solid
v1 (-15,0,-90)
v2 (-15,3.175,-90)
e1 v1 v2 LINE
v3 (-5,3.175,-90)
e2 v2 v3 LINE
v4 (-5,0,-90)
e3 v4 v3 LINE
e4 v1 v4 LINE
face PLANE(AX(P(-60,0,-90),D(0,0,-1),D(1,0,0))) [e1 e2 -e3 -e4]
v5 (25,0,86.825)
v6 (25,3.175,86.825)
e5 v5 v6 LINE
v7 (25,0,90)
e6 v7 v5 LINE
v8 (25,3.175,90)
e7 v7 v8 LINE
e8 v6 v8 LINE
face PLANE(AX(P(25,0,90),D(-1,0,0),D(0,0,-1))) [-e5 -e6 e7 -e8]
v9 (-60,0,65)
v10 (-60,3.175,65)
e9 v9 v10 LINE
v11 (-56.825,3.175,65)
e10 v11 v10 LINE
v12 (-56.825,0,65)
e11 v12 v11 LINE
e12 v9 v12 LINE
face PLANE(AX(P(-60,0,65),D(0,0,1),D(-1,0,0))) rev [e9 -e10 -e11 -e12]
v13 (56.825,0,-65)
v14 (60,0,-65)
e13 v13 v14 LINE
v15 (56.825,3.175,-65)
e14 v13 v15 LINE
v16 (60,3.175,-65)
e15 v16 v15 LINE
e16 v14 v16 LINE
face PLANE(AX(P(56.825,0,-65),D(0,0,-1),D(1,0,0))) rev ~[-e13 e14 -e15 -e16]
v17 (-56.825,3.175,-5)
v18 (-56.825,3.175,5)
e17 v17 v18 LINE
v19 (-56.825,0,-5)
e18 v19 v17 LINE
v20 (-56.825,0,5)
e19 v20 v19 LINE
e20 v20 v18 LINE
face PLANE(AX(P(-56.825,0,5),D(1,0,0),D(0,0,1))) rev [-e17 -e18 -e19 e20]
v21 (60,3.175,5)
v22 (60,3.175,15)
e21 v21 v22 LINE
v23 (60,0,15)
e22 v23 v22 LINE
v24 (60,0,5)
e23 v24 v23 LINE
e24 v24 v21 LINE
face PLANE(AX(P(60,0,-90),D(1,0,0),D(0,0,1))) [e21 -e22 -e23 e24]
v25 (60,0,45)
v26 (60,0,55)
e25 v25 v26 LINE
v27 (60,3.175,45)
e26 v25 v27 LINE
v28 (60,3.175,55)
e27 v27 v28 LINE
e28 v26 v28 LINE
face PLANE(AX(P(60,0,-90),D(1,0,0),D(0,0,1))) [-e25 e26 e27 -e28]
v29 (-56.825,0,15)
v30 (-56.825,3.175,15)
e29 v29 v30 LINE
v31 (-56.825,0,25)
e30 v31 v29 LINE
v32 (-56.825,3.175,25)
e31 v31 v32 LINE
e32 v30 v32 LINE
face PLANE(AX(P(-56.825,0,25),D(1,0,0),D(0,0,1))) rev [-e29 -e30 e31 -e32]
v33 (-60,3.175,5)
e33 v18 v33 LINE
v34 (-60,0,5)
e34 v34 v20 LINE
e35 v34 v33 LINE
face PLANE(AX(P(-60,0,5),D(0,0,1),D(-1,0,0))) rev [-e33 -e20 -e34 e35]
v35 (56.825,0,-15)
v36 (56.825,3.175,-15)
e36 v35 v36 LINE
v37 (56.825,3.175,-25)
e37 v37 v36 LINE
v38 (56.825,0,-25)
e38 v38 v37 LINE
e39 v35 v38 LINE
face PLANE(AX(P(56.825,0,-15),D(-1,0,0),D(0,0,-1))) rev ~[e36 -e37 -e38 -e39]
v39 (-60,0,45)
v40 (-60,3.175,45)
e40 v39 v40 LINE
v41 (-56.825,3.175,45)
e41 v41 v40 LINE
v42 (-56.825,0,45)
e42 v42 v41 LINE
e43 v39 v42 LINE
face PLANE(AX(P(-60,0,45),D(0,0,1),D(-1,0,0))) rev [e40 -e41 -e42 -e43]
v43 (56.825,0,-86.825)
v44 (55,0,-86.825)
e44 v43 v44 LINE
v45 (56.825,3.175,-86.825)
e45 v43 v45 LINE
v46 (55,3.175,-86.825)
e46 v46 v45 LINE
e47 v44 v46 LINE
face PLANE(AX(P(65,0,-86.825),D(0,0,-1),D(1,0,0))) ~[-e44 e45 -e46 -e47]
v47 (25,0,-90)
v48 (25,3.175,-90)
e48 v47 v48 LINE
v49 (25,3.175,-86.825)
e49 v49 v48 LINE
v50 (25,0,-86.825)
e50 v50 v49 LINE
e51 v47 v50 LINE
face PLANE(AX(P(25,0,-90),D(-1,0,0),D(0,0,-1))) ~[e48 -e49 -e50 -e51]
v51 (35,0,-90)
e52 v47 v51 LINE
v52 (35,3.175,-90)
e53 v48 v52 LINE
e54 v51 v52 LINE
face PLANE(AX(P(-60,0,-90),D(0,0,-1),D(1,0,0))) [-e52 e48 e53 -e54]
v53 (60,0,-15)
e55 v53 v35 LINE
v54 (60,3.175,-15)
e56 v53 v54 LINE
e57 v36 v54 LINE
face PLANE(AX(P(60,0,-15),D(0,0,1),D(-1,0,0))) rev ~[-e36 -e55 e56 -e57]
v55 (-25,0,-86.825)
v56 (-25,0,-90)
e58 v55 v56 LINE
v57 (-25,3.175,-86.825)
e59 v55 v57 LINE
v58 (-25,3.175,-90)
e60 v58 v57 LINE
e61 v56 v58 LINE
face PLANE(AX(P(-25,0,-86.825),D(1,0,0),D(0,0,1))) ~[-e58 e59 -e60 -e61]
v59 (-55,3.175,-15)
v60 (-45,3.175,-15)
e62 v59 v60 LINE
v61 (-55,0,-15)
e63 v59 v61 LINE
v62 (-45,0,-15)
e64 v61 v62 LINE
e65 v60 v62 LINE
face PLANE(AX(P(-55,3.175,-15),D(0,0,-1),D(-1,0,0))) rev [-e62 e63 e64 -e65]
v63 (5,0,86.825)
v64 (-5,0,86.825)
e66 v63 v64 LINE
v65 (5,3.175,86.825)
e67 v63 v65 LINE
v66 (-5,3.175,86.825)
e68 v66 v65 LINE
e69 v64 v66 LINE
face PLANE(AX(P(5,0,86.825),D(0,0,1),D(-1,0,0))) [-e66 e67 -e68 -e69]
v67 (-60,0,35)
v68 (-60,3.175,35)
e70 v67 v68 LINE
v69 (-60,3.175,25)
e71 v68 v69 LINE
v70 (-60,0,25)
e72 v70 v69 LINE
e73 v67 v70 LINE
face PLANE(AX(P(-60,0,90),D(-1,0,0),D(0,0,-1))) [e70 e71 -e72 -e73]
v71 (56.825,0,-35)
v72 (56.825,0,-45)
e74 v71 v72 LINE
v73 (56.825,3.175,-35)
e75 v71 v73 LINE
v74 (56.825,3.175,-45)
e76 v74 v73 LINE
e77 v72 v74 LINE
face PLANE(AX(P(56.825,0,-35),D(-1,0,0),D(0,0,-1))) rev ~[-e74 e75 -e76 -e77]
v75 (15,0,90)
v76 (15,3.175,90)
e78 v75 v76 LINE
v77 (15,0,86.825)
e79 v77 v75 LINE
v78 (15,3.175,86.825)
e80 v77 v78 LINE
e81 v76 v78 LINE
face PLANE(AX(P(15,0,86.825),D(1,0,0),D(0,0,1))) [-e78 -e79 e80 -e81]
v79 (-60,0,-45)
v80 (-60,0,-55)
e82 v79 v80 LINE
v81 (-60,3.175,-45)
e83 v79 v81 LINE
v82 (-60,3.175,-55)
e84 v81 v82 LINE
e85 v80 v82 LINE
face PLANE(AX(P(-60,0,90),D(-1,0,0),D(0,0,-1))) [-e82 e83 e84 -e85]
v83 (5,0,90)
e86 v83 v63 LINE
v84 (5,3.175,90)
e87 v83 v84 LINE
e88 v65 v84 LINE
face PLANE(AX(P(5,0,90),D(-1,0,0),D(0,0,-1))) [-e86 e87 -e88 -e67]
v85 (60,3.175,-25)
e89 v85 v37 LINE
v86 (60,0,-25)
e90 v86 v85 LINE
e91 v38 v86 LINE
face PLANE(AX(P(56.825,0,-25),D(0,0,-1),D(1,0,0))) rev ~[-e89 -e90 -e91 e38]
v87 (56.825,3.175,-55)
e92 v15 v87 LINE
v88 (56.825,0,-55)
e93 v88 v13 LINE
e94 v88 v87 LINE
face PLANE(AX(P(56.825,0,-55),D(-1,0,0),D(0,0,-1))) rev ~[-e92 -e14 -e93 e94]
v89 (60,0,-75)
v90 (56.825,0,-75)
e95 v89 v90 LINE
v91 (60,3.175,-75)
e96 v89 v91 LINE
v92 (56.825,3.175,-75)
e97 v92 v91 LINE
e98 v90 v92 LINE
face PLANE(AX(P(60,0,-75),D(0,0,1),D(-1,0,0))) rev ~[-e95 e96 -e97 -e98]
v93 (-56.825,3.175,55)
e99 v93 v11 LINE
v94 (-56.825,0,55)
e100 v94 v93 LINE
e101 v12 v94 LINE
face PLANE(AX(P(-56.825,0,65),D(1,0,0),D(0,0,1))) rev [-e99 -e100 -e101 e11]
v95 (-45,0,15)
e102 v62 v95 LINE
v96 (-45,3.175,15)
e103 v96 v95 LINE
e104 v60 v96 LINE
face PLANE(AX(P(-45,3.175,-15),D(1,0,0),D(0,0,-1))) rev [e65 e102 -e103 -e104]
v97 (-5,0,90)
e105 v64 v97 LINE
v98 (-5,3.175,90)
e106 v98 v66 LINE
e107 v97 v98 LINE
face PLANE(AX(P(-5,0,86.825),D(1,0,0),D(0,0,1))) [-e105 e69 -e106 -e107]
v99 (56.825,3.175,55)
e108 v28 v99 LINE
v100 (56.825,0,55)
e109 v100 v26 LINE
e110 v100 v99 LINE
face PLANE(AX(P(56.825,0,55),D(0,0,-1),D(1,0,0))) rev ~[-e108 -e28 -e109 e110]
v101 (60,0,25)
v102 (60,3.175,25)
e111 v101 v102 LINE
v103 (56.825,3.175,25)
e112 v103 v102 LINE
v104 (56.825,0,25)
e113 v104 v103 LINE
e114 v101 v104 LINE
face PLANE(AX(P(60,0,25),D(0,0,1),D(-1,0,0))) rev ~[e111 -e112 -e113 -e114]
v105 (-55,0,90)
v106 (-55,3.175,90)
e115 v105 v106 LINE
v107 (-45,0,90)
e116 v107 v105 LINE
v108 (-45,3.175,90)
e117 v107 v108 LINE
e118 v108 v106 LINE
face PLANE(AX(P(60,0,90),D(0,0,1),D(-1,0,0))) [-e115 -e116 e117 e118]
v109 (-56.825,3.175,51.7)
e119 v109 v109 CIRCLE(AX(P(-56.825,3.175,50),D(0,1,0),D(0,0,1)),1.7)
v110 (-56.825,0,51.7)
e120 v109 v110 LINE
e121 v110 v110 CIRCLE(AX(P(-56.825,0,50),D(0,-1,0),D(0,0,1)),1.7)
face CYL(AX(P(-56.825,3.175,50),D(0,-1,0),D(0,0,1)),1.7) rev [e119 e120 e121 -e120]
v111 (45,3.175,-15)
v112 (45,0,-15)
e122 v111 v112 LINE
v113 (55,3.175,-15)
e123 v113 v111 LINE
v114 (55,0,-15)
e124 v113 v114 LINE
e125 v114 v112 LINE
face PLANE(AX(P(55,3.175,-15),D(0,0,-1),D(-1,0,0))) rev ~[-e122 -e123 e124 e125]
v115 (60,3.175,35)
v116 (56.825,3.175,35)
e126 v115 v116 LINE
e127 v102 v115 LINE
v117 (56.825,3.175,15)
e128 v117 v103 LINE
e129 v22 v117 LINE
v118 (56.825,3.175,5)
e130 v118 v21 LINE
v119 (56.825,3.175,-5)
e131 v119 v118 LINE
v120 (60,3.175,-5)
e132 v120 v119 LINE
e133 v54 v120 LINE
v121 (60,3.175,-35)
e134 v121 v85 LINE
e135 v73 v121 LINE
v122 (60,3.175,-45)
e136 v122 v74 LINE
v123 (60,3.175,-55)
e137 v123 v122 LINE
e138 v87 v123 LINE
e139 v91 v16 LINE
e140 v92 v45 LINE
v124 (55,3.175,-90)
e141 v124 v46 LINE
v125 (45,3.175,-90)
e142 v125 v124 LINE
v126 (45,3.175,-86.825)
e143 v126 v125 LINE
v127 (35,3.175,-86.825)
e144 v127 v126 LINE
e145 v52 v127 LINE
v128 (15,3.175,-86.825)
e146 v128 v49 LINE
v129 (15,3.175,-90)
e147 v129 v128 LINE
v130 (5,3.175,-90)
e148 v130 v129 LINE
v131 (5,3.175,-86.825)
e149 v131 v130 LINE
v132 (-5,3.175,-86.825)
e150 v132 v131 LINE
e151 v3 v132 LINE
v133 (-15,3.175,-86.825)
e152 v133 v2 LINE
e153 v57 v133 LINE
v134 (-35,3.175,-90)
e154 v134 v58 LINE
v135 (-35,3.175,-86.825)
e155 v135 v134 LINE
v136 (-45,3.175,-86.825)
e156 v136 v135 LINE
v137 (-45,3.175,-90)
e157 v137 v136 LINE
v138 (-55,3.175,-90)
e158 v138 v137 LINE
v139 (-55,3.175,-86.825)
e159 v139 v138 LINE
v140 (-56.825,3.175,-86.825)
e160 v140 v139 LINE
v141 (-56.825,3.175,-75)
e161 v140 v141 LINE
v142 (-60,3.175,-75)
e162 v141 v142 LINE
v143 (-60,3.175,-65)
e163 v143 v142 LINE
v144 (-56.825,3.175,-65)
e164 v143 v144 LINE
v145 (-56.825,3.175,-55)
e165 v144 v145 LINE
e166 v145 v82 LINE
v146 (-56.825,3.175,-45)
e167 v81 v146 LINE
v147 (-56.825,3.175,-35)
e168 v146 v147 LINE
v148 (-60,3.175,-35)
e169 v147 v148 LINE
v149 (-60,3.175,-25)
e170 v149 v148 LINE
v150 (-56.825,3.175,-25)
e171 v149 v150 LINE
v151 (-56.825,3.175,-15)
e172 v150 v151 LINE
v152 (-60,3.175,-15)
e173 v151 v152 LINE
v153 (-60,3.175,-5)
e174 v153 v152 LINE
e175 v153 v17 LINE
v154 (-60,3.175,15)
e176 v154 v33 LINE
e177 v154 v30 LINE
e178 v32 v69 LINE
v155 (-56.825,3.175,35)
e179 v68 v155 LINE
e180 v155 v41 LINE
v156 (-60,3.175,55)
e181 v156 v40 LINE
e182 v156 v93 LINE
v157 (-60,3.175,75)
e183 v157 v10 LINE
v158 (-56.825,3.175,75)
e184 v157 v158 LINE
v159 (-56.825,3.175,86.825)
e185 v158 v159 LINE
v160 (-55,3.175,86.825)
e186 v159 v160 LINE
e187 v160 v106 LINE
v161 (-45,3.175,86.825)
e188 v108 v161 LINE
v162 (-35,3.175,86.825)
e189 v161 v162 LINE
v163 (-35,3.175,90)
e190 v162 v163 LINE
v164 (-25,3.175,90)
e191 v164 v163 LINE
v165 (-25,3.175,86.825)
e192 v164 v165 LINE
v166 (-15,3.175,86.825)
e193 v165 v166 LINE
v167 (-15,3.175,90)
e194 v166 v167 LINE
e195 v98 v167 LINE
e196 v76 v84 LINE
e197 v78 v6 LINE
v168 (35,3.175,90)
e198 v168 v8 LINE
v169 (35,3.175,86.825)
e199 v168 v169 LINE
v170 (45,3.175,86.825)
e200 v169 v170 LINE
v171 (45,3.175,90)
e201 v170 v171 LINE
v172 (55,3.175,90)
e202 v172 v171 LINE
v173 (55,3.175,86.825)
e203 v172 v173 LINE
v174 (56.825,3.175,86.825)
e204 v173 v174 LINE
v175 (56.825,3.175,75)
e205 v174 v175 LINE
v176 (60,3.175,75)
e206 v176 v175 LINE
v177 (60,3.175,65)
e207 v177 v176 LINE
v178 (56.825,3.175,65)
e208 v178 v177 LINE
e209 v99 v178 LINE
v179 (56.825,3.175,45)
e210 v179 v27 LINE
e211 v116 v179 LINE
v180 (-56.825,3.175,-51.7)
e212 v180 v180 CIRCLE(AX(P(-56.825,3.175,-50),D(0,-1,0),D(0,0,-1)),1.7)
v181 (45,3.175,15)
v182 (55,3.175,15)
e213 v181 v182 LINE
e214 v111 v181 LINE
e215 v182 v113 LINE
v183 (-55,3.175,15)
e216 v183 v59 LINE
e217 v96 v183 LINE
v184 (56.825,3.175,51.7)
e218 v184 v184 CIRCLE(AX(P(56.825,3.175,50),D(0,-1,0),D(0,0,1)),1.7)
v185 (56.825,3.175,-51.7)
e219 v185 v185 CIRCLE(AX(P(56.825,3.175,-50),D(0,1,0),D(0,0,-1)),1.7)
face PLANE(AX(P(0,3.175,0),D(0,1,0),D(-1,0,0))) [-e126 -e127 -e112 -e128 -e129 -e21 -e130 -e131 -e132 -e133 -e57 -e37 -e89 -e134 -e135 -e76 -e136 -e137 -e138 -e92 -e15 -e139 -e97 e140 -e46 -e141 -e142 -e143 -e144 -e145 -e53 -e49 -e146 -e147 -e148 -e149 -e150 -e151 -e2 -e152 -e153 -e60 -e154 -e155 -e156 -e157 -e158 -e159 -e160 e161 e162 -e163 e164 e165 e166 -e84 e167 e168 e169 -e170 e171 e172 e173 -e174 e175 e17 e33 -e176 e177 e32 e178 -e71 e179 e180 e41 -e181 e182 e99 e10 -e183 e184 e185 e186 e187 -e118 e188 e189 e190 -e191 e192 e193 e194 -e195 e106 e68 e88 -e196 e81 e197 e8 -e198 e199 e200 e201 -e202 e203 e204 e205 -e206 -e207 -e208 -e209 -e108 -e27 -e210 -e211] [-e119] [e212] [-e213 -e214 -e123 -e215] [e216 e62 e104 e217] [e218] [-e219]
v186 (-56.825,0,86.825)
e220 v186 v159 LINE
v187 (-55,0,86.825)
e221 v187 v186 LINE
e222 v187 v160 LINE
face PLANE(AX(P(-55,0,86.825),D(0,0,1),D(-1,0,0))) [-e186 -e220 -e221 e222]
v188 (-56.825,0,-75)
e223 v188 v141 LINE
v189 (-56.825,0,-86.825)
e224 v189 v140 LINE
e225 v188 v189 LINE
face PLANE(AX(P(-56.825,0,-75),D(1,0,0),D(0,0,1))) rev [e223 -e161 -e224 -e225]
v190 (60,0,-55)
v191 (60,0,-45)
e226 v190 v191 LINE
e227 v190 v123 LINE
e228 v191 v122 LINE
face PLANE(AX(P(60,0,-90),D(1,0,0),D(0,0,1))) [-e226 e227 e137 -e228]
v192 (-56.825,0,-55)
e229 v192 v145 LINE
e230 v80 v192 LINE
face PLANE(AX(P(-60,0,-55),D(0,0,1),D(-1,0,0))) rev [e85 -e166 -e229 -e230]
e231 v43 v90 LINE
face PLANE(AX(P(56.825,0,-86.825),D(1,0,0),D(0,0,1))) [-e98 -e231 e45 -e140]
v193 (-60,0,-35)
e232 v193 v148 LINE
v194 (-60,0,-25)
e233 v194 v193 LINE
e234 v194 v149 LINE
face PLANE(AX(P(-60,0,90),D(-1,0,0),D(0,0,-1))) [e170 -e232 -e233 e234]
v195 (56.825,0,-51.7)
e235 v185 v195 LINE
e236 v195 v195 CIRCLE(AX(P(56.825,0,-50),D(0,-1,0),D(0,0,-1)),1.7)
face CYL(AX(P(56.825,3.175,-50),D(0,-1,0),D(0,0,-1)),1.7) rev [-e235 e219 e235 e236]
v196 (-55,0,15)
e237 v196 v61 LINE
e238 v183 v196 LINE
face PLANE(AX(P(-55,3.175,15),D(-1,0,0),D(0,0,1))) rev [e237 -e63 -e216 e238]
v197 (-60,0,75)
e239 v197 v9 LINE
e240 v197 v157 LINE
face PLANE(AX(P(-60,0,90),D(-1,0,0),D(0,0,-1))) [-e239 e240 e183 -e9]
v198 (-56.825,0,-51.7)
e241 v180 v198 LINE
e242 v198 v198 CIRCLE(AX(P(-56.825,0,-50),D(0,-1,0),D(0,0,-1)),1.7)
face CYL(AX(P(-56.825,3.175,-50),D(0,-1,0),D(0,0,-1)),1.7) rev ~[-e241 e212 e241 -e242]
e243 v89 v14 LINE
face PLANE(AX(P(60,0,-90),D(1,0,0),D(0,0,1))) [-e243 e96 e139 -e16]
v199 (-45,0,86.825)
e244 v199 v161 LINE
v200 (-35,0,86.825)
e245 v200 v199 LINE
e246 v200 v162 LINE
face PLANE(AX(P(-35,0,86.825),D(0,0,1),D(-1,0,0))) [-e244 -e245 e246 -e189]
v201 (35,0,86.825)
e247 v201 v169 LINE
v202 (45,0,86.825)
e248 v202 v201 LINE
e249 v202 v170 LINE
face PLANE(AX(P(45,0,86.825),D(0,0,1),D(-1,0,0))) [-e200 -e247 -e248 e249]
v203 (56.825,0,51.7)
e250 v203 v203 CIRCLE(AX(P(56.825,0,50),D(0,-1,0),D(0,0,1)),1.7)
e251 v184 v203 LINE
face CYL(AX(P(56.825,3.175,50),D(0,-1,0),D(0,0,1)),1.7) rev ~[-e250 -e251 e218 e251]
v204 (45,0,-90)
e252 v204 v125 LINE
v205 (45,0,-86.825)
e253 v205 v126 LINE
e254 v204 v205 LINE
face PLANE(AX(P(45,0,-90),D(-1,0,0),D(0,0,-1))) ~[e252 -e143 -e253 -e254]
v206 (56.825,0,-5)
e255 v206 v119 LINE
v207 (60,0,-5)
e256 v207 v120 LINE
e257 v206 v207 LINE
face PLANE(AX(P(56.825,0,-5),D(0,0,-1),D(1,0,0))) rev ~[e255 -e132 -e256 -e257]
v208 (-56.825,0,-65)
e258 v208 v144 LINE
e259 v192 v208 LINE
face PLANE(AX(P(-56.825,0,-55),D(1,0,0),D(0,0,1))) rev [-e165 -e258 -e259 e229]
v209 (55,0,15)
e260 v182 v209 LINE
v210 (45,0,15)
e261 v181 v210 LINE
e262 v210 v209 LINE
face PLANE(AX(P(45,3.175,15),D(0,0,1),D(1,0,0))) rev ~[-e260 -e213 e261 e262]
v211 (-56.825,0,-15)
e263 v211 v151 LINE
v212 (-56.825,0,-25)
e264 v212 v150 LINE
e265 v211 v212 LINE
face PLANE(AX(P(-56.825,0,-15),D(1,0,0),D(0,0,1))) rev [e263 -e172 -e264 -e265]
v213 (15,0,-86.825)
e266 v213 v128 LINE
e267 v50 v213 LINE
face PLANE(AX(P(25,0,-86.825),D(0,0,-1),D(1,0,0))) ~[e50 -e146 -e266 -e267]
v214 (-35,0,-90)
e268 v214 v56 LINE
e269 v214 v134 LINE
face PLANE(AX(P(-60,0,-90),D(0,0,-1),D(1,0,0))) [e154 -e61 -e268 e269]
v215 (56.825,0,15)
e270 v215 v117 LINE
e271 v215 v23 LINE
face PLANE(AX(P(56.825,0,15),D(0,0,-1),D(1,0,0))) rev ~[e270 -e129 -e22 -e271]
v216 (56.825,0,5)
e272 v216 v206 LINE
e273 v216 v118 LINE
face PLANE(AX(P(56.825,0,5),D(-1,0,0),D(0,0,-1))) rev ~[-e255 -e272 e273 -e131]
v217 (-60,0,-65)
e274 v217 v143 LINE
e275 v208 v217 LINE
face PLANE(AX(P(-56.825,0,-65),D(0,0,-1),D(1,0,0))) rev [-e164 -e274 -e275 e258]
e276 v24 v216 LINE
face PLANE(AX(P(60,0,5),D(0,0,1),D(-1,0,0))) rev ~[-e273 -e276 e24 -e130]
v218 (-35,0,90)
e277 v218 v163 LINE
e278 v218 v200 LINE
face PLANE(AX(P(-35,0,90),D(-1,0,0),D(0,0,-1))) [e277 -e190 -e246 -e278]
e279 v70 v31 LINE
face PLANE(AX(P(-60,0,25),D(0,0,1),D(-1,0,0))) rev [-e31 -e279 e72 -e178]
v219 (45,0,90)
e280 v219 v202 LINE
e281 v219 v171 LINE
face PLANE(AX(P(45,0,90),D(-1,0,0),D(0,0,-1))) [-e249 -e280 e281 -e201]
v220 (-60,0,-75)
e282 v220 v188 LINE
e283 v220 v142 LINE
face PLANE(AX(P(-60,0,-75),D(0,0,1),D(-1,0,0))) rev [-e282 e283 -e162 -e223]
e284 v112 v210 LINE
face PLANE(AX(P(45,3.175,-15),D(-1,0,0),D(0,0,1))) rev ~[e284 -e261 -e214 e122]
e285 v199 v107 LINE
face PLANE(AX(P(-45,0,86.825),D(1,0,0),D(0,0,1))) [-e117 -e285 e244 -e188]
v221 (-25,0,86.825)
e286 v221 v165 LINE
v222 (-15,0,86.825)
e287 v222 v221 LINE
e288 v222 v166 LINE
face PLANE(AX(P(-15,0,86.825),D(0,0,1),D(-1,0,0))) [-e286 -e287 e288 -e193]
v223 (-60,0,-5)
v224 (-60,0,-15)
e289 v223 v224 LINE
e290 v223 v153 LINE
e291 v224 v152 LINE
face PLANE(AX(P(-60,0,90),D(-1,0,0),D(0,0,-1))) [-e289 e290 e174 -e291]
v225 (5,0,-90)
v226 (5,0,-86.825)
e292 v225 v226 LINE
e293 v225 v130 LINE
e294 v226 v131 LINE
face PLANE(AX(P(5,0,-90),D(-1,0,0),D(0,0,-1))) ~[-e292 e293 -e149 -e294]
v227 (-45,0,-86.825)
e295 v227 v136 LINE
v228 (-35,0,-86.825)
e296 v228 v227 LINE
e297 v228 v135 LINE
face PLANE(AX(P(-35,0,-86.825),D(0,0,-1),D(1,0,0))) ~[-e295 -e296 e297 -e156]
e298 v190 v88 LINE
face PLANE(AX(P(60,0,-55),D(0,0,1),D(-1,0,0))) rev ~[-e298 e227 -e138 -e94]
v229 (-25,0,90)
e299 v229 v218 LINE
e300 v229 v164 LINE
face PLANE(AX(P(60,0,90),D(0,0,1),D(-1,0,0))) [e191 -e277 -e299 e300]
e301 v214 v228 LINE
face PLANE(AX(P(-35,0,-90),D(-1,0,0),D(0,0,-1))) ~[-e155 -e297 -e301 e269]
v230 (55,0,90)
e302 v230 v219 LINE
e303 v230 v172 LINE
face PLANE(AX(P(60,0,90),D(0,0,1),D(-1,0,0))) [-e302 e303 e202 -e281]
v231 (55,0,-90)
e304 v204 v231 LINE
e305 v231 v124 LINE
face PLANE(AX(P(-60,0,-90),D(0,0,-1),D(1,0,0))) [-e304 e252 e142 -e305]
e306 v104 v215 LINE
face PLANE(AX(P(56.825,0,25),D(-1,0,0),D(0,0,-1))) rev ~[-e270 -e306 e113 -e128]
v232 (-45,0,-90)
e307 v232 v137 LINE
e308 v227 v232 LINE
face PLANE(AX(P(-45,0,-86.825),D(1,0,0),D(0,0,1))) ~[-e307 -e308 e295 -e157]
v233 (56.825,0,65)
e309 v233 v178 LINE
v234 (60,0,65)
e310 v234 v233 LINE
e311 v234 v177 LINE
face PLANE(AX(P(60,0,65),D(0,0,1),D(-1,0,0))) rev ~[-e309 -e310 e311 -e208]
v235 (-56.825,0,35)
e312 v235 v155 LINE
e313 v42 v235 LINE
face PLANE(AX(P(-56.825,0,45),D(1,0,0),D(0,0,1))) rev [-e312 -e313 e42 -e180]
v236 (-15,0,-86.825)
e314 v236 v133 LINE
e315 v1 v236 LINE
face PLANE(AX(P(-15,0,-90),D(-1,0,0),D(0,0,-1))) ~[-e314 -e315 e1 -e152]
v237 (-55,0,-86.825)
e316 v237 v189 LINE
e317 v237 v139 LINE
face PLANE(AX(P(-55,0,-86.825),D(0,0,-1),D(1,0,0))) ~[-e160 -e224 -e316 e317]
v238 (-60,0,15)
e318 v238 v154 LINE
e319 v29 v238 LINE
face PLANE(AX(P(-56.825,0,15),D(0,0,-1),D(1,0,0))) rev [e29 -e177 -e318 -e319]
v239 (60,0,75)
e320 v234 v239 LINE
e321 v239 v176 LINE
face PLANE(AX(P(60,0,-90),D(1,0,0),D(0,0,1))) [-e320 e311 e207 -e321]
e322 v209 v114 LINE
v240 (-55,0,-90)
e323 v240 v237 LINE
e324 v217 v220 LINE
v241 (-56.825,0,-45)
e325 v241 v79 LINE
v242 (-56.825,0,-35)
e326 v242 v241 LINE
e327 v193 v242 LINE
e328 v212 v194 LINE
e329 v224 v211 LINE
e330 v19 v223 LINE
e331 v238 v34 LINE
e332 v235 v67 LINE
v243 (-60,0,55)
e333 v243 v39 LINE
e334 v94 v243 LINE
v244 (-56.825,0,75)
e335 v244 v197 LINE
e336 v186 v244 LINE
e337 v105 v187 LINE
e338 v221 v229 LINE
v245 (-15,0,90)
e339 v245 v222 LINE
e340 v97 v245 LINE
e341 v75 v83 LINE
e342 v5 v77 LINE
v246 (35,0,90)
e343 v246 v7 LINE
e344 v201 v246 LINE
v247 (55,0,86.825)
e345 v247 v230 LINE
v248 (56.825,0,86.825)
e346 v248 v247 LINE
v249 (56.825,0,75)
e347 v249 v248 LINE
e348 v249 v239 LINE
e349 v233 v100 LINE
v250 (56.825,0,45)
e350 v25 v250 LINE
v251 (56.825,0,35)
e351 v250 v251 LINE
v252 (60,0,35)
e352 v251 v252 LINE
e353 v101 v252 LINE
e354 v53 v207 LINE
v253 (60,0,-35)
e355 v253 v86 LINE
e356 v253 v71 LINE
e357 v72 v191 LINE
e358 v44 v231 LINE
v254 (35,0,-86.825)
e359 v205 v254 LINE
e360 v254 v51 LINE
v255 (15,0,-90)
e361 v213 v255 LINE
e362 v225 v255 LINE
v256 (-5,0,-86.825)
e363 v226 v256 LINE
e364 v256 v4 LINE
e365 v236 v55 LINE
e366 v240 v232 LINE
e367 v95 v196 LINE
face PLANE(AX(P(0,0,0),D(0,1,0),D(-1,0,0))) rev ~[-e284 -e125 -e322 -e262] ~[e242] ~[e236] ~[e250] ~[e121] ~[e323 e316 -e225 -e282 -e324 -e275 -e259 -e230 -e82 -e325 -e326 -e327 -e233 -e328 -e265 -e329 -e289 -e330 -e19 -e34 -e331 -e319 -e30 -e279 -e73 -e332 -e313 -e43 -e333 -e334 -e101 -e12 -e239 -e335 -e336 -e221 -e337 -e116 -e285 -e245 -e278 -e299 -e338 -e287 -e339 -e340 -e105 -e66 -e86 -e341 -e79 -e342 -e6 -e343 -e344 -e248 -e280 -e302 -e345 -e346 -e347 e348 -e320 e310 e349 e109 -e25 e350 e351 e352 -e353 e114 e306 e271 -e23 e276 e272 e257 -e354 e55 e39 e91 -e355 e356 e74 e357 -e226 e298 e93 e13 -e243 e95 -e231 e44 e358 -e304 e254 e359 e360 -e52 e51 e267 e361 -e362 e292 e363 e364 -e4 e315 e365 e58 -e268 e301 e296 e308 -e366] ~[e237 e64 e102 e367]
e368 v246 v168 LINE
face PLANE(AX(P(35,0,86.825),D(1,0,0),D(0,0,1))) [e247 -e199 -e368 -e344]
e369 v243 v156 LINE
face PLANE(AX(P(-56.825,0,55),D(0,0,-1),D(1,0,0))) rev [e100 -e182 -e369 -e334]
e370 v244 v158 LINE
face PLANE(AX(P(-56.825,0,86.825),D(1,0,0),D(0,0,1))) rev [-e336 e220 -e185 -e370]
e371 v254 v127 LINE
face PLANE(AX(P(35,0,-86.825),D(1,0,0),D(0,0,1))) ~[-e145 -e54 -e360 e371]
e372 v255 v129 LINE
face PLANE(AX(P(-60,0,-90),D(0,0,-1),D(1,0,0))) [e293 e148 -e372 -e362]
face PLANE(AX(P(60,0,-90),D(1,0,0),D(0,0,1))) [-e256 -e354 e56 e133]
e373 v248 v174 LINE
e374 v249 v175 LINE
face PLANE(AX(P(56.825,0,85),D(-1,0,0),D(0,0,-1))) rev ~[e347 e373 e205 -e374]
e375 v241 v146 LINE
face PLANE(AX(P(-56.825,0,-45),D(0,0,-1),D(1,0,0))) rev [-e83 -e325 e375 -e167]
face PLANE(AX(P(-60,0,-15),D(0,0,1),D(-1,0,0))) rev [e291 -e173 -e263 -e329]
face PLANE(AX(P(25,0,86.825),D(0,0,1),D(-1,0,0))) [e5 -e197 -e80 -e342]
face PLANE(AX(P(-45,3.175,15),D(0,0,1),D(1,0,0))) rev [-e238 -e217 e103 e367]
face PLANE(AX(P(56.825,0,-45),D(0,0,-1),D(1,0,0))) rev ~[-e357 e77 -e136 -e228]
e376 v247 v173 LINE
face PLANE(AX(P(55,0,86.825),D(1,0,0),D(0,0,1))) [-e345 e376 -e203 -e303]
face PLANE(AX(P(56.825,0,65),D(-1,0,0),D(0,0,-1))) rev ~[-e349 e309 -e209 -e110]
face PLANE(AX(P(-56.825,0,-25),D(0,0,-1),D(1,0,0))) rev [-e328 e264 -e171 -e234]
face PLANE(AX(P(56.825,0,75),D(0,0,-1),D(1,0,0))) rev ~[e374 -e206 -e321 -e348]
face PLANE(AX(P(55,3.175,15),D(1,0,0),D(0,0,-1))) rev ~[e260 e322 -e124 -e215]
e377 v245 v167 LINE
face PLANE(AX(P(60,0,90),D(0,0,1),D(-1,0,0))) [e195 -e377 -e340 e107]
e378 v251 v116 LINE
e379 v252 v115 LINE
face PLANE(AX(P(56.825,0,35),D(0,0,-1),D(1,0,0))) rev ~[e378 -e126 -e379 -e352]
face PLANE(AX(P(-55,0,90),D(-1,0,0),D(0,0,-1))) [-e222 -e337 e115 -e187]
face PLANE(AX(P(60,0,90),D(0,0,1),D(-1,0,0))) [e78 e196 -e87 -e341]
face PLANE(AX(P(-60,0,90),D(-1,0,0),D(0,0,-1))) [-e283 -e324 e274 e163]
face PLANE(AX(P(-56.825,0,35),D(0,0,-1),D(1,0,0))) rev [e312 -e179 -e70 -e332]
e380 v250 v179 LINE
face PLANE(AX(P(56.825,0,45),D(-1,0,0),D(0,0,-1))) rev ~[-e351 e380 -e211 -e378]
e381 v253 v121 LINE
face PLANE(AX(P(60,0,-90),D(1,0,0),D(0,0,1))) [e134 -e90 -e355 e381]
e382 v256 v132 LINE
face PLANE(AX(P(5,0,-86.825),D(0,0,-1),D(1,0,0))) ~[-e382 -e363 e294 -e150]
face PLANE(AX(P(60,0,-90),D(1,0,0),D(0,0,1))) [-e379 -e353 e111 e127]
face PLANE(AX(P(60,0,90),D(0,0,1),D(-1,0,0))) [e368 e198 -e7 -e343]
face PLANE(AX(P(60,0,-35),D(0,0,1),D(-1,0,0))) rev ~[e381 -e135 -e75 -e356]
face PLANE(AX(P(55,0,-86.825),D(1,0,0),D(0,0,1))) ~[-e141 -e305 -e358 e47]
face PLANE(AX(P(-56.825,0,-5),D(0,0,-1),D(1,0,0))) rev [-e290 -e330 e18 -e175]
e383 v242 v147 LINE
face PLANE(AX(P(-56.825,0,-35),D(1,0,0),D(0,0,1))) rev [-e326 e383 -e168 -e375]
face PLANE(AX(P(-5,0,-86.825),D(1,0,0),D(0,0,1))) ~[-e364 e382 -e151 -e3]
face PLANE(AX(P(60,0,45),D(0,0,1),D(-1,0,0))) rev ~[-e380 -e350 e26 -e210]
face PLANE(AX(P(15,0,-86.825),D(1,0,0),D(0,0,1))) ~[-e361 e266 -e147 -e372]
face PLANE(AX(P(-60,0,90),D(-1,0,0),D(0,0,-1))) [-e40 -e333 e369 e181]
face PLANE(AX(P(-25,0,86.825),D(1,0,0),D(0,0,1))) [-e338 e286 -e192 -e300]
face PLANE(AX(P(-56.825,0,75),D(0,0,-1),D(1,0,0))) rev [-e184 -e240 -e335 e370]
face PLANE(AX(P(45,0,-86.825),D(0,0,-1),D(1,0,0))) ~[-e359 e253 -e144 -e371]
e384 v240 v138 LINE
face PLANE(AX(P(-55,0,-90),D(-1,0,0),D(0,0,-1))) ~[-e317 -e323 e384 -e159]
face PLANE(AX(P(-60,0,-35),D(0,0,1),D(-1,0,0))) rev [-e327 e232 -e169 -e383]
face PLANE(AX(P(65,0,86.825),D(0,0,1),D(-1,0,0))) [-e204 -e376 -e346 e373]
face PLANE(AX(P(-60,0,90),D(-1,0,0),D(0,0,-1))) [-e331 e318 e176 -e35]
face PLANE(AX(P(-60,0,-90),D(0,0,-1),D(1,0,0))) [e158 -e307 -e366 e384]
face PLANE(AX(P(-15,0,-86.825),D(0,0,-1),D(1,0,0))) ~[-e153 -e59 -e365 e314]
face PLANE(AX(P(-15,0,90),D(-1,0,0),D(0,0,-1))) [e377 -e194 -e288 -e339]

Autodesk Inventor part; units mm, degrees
ref_plane "YZ Plane" through (0, 0, 0) normal (1, 0, 0) x (0, 1, 0)
ref_plane "XZ Plane" through (0, 0, 0) normal (0, 1, 0) x (-1, 0, 0)
ref_plane "XY Plane" through (0, 0, 0) normal (0, 0, 1) x (1, 0, 0)
sketch "Sketch1" plane through (0, 0, 0) normal (0, 1, 0) x (-1, 0, 0)
  line L0 (60, -90) -> (-60, -90)
  line L1 (-60, -90) -> (-60, 90)
  line L2 (-60, 90) -> (60, 90)
  line L3 (60, 90) -> (60, -90)
  line L4 (60, -90) -> (-60, 90) construction
  line L5 (-60, -90) -> (60, 90) construction
  point P0 (0, 0)
  dimension "d0" = 120
  dimension "d1" = 180
extrude "Extrusion1" add sketch "Sketch1" along normal blind 3.175
sketch "Sketch4" plane through (0, 0, 0) normal (0, -1, 0) x (1, 0, 0)
  line L0 (-60, -90) -> (60, -90) projected
  line L1 (60, -90) -> (60, 90) projected
  line L2 (60, 90) -> (-60, 90) projected
  line L3 (-60, 90) -> (-60, -90) projected
  line L4 (-60, 90) -> (60, 90) projected
  line L5 (-45, 90) -> (-35, 90)
  line L6 (-35, 90) -> (-35, 86.825)
  line L7 (-35, 86.825) -> (-45, 86.825)
  line L8 (-45, 86.825) -> (-45, 90)
  point P0 (0, 0)
  dimension "d25" = 10
  dimension "d26" = 15
  dimension "d27" = 3.175
extrude "Extrusion3" cut sketch "Sketch4" against normal through all contours L2 L6 L7 L8
pattern_linear "Rectangular Pattern1" count 6 spacing 20 along (1, 0, 0) of "Extrusion3"
sketch "Sketch7" plane through (0, 0, 0) normal (0, -1, 0) x (1, 0, 0)
  line L0 (55, 86.825) -> (55, 90) projected
  line L1 (55, 90) -> (45, 90) projected
  line L2 (45, 90) -> (45, 86.825) projected
  line L3 (45, 86.825) -> (35, 86.825) projected
  line L4 (35, 86.825) -> (35, 90) projected
  line L5 (35, 90) -> (25, 90) projected
  line L6 (25, 90) -> (25, 86.825) projected
  line L7 (25, 86.825) -> (15, 86.825) projected
  line L8 (15, 86.825) -> (15, 90) projected
  line L9 (15, 90) -> (5, 90) projected
  line L10 (5, 90) -> (5, 86.825) projected
  line L11 (5, 86.825) -> (-5, 86.825) projected
  line L12 (-5, 86.825) -> (-5, 90) projected
  line L13 (-5, 90) -> (-15, 90) projected
  line L14 (-15, 90) -> (-15, 86.825) projected
  line L15 (-15, 86.825) -> (-25, 86.825) projected
  line L16 (-25, 86.825) -> (-25, 90) projected
  line L17 (-25, 90) -> (-35, 90) projected
  line L18 (-35, 90) -> (-35, 86.825) projected
  line L19 (-35, 86.825) -> (-45, 86.825) projected
  line L20 (-45, 86.825) -> (-45, 90) projected
  line L21 (-45, 90) -> (-60, 90) projected
  line L22 (-60, 90) -> (-60, -90) projected
  line L23 (-60, -90) -> (60, -90) projected
  line L24 (60, -90) -> (60, 86.825) projected
  line L25 (60, 86.825) -> (55, 86.825) projected
  line L26 (-60, 90) -> (-55, 90)
  line L27 (-55, 90) -> (-55, 86.825)
  line L28 (-55, 86.825) -> (-60, 86.825)
  line L29 (-60, 86.825) -> (-60, 90)
  point P0 (0, 0)
  dimension "d50" = 10
  dimension "d51" = 3.175
extrude "Extrusion5" cut sketch "Sketch7" against normal through all contours L22 L21 L27 L28
mirror "Mirror1" about plane through (0, 0, 0) normal (0, 0, 1) of "Extrusion3", "Rectangular Pattern1", "Extrusion5"
sketch "Sketch5" plane through (0, 0, 0) normal (0, -1, 0) x (1, 0, 0)
  line L0 (-35, -90) -> (-25, -90) projected
  line L1 (60, -86.825) -> (60, 86.825) projected
  line L2 (-45, 90) -> (-55, 90) projected
  line L3 (60, 86.825) -> (55, 86.825) projected
  line L4 (55, 86.825) -> (55, 90) projected
  line L5 (55, 90) -> (45, 90) projected
  line L6 (45, 90) -> (45, 86.825) projected
  line L7 (45, 86.825) -> (35, 86.825) projected
  line L8 (35, 86.825) -> (35, 90) projected
  line L9 (35, 90) -> (25, 90) projected
  line L10 (25, 90) -> (25, 86.825) projected
  line L11 (25, 86.825) -> (15, 86.825) projected
  line L12 (15, 86.825) -> (15, 90) projected
  line L13 (15, 90) -> (5, 90) projected
  line L14 (5, 90) -> (5, 86.825) projected
  line L15 (5, 86.825) -> (-5, 86.825) projected
  line L16 (-5, 86.825) -> (-5, 90) projected
  line L17 (-5, 90) -> (-15, 90) projected
  line L18 (-15, 90) -> (-15, 86.825) projected
  line L19 (-15, 86.825) -> (-25, 86.825) projected
  line L20 (-25, 86.825) -> (-25, 90) projected
  line L21 (-25, 90) -> (-35, 90) projected
  line L22 (-35, 90) -> (-35, 86.825) projected
  line L23 (-35, 86.825) -> (-45, 86.825) projected
  line L24 (-45, 86.825) -> (-45, 90) projected
  line L25 (-60, 86.825) -> (-60, -86.825) projected
  line L26 (-45, -90) -> (-45, -86.825) projected
  line L27 (-45, -86.825) -> (-35, -86.825) projected
  line L28 (-35, -86.825) -> (-35, -90) projected
  line L29 (-25, -90) -> (-25, -86.825) projected
  line L30 (-25, -86.825) -> (-15, -86.825) projected
  line L31 (-15, -86.825) -> (-15, -90) projected
  line L32 (-15, -90) -> (-5, -90) projected
  line L33 (-5, -90) -> (-5, -86.825) projected
  line L34 (-5, -86.825) -> (5, -86.825) projected
  line L35 (5, -86.825) -> (5, -90) projected
  line L36 (5, -90) -> (15, -90) projected
  line L37 (15, -90) -> (15, -86.825) projected
  line L38 (15, -86.825) -> (25, -86.825) projected
  line L39 (25, -86.825) -> (25, -90) projected
  line L40 (25, -90) -> (35, -90) projected
  line L41 (35, -90) -> (35, -86.825) projected
  line L42 (35, -86.825) -> (45, -86.825) projected
  line L43 (45, -86.825) -> (45, -90) projected
  line L44 (45, -90) -> (55, -90) projected
  line L45 (55, -90) -> (55, -86.825) projected
  line L46 (55, -86.825) -> (60, -86.825) projected
  line L47 (60, 90) -> (60, -90) projected
  line L48 (60, 85) -> (56.825, 85)
  line L49 (56.825, 85) -> (56.825, 75)
  line L50 (56.825, 75) -> (60, 75)
  line L51 (60, 75) -> (60, 85)
  line L52 (-55, -86.825) -> (-55, -90) projected
  line L53 (-55, -90) -> (-45, -90) projected
  line L54 (-55, 90) -> (-55, 86.825) projected
  line L55 (-55, 86.825) -> (-60, 86.825) projected
  line L56 (-60, -86.825) -> (-55, -86.825) projected
  point P0 (0, 0)
  dimension "d33" = 3.175
  dimension "d34" = 5
  dimension "d35" = 10
extrude "Extrusion4" cut sketch "Sketch5" against normal through all contours L50 L49 L48 L1
pattern_linear "Rectangular Pattern2" count 9 spacing 20 along (0, 0, -1) of "Extrusion4"
sketch "Sketch8" plane through (0, 0, 0) normal (0, -1, 0) x (1, 0, 0)
  line L0 (56.825, -75) -> (60, -75) projected
  line L1 (60, -75) -> (60, -65) projected
  line L2 (60, -65) -> (56.825, -65) projected
  line L3 (56.825, -65) -> (56.825, -55) projected
  line L4 (56.825, -55) -> (60, -55) projected
  line L5 (60, -55) -> (60, -45) projected
  line L6 (60, -45) -> (56.825, -45) projected
  line L7 (56.825, -45) -> (56.825, -35) projected
  line L8 (56.825, -35) -> (60, -35) projected
  line L9 (60, -35) -> (60, -25) projected
  line L10 (60, -25) -> (56.825, -25) projected
  line L11 (56.825, -25) -> (56.825, -15) projected
  line L12 (56.825, -15) -> (60, -15) projected
  line L13 (60, -15) -> (60, -5) projected
  line L14 (60, -5) -> (56.825, -5) projected
  line L15 (56.825, -5) -> (56.825, 5) projected
  line L16 (56.825, 5) -> (60, 5) projected
  line L17 (60, 5) -> (60, 15) projected
  line L18 (60, 15) -> (56.825, 15) projected
  line L19 (56.825, 15) -> (56.825, 25) projected
  line L20 (56.825, 25) -> (60, 25) projected
  line L21 (60, 25) -> (60, 35) projected
  line L22 (60, 35) -> (56.825, 35) projected
  line L23 (56.825, 35) -> (56.825, 45) projected
  line L24 (56.825, 45) -> (60, 45) projected
  line L25 (60, 45) -> (60, 55) projected
  line L26 (60, 55) -> (56.825, 55) projected
  line L27 (56.825, 55) -> (56.825, 65) projected
  line L28 (56.825, 65) -> (60, 65) projected
  line L29 (60, 65) -> (60, 75) projected
  line L30 (60, 75) -> (56.825, 75) projected
  line L31 (56.825, 75) -> (56.825, 85) projected
  line L32 (56.825, 85) -> (60, 85) projected
  line L33 (60, 85) -> (60, 86.825) projected
  line L34 (60, 86.825) -> (55, 86.825) projected
  line L35 (55, 86.825) -> (55, 90) projected
  line L36 (55, 90) -> (45, 90) projected
  line L37 (45, 90) -> (45, 86.825) projected
  line L38 (45, 86.825) -> (35, 86.825) projected
  line L39 (35, 86.825) -> (35, 90) projected
  line L40 (35, 90) -> (25, 90) projected
  line L41 (25, 90) -> (25, 86.825) projected
  line L42 (25, 86.825) -> (15, 86.825) projected
  line L43 (15, 86.825) -> (15, 90) projected
  line L44 (15, 90) -> (5, 90) projected
  line L45 (5, 90) -> (5, 86.825) projected
  line L46 (5, 86.825) -> (-5, 86.825) projected
  line L47 (-5, 86.825) -> (-5, 90) projected
  line L48 (-5, 90) -> (-15, 90) projected
  line L49 (-15, 90) -> (-15, 86.825) projected
  line L50 (-15, 86.825) -> (-25, 86.825) projected
  line L51 (-25, 86.825) -> (-25, 90) projected
  line L52 (-25, 90) -> (-35, 90) projected
  line L53 (-35, 90) -> (-35, 86.825) projected
  line L54 (-35, 86.825) -> (-45, 86.825) projected
  line L55 (-45, 86.825) -> (-45, 90) projected
  line L56 (-45, 90) -> (-55, 90) projected
  line L57 (-55, 90) -> (-55, 86.825) projected
  line L58 (-55, 86.825) -> (-60, 86.825) projected
  line L59 (-60, 86.825) -> (-60, -86.825) projected
  line L60 (-60, -86.825) -> (-55, -86.825) projected
  line L61 (-55, -86.825) -> (-55, -90) projected
  line L62 (-55, -90) -> (-45, -90) projected
  line L63 (-45, -90) -> (-45, -86.825) projected
  line L64 (-45, -86.825) -> (-35, -86.825) projected
  line L65 (-35, -86.825) -> (-35, -90) projected
  line L66 (-35, -90) -> (-25, -90) projected
  line L67 (-25, -90) -> (-25, -86.825) projected
  line L68 (-25, -86.825) -> (-15, -86.825) projected
  line L69 (-15, -86.825) -> (-15, -90) projected
  line L70 (-15, -90) -> (-5, -90) projected
  line L71 (-5, -90) -> (-5, -86.825) projected
  line L72 (-5, -86.825) -> (5, -86.825) projected
  line L73 (5, -86.825) -> (5, -90) projected
  line L74 (5, -90) -> (15, -90) projected
  line L75 (15, -90) -> (15, -86.825) projected
  line L76 (15, -86.825) -> (25, -86.825) projected
  line L77 (25, -86.825) -> (25, -90) projected
  line L78 (25, -90) -> (35, -90) projected
  line L79 (35, -90) -> (35, -86.825) projected
  line L80 (35, -86.825) -> (45, -86.825) projected
  line L81 (45, -86.825) -> (45, -90) projected
  line L82 (45, -90) -> (55, -90) projected
  line L83 (55, -90) -> (55, -86.825) projected
  line L84 (55, -86.825) -> (60, -86.825) projected
  line L85 (60, -86.825) -> (60, -85) projected
  line L86 (60, -85) -> (56.825, -85) projected
  line L87 (56.825, -85) -> (56.825, -75) projected
  line L88 (56.825, 85) -> (60, 85)
  line L89 (60, 85) -> (60, 86.825)
  line L90 (60, 86.825) -> (56.825, 86.825)
  line L91 (56.825, 86.825) -> (56.825, 85)
  line L92 (56.825, -85) -> (60, -85)
  line L93 (60, -85) -> (60, -86.825)
  line L94 (60, -86.825) -> (56.825, -86.825)
  line L95 (56.825, -86.825) -> (56.825, -85)
  point P0 (0, 0)
extrude "Extrusion6" cut sketch "Sketch8" against normal through all contours L86 L85 L84 L95 | L91 L34 L33 L32
mirror "Mirror2" about plane through (0, 0, 0) normal (1, 0, 0) of "Extrusion4", "Rectangular Pattern2", "Extrusion6"
sketch "Sketch6" plane through (0, 3.175, 0) normal (0, 1, 0) x (1, 0, 0)
  point P0 (0, 0)
  point P1 (56.825, -50)
  dimension "d41" = 50
  dimension "d42" = 56.825
hole "Hole2" at (56.825, 3.175, 50) direction (0, -1, 0) diameter 3.4 end through all clearance for "Flat Head Machine Screw" size "M3" standard "Ansi Metric M Profile"
mirror "Mirror3" about plane through (0, 0, 0) normal (0, 0, 1) of "Hole2"
mirror "Mirror4" about plane through (0, 0, 0) normal (1, 0, 0) of "Hole2", "Mirror3"
sketch "Sketch9" plane through (0, 3.175, 0) normal (0, 1, 0) x (1, 0, 0)
  line L0 (45, -15) -> (55, -15)
  line L1 (55, -15) -> (55, 15)
  line L2 (55, 15) -> (45, 15)
  line L3 (45, 15) -> (45, -15)
  point P0 (0, 0)
  dimension "d56" = 30
  dimension "d57" = 10
  dimension "d58" = 45
  dimension "d62" = 15
extrude "Extrusion7" cut sketch "Sketch9" against normal through all
mirror "Mirror5" about plane through (0, 0, 0) normal (1, 0, 0) of "Extrusion7"
sketch "Sketch3" plane through (0, 0, 0) normal (0, -1, 0) x (1, 0, 0)
  line L0 (43.8, 65) -> (43.8, -65) projected
  line L1 (43.8, -65) -> (-43.8, -65) projected
  line L2 (-43.8, -65) -> (-43.8, 65) projected
  line L3 (-43.8, 65) -> (43.8, 65) projected
  line L4 (-60, -90) -> (60, -90) projected
  line L5 (60, -90) -> (60, 90) projected
  line L6 (60, 90) -> (-60, 90) projected
  line L7 (-60, 90) -> (-60, -90) projected
  line L8 (58.5014, 54) -> (58.5014, 18)
  line L9 (58.5014, 18) -> (-58.5014, 18)
  line L10 (-58.5014, 18) -> (-58.5014, 54)
  line L11 (-20, 88.5014) -> (-20, -88.5014)
  line L12 (-20, -88.5014) -> (20, -88.5014)
  line L13 (-43.8, 65) -> (-43.8, -65) projected
  line L14 (20, -88.5014) -> (20, 88.5014)
  line L15 (58.5014, -54) -> (58.5014, -18)
  line L16 (58.5014, -18) -> (-58.5014, -18)
  line L17 (-43.8, 65) -> (43.8, 65) projected
  line L18 (43.8, -65) -> (-43.8, -65) projected
  line L19 (-58.5014, -18) -> (-58.5014, 18)
  line L20 (-58.5014, -54) -> (-58.5014, -18)
  line L21 (58.5014, -18) -> (58.5014, 18)
  line L22 (-58.5014, -54) -> (58.5014, -54)
  line L23 (-58.5014, 54) -> (58.5014, 54)
  line L24 (-20, 88.5014) -> (20, 88.5014)
  point P0 (0, 0)
  dimension "d9" = 1.5875
  dimension "d10" = 1.5875
  dimension "d11" = 1.5875
  dimension "d12" = 1.5875
  dimension "d20" = 40
  dimension "d21" = 40
  dimension "d22" = 36
  dimension "d24" = 36
equation "\"d0\" = width"
equation "\"d1\" = height"
equation "\"d2\" = materialThickness"
equation "\"d25\" = notchWidth"
equation "\"d26\" = 1.5 * notchWidth"
equation "\"d27\" = materialThickness"
equation "\"d32\" = 2 * notchWidth"
equation "\"d50\" = notchWidth"
equation "\"d51\" = materialThickness"
equation "\"d33\" = materialThickness"
equation "\"d34\" = 0.5 * notchWidth"
equation "\"d35\" = notchWidth"
equation "\"d40\" = 2 * notchWidth"
equation "\"d41\" = 0.25 * height + 0.5 * notchWidth"
equation "\"d42\" = 0.5 * width - materialThickness"
equation "\"d9\" = 0.5 * materialThickness"
equation "\"d10\" = 0.5 * materialThickness"
equation "\"d11\" = 0.5 * materialThickness"
equation "\"d12\" = 0.5 * materialThickness"
equation "\"d20\" = 0.333333 * width"
equation "\"d21\" = 0.333333 * width"
equation "\"d22\" = 0.2 * height"
equation "\"d24\" = 0.2 * height"
equation "\"height\" = 180"
equation "\"width\" = 120"
equation "\"materialThickness\" = 3.175"
equation "\"laserKerf\" = 0.12"
equation "\"cardPinDiameter\" = 3"
equation "\"cardThickness\" = 0.76"
equation "\"cardFillet\" = 2.88"
equation "\"cardHeight\" = 53.98"
equation "\"cardSelected\" = 1"
equation "\"cardWidth\" = 85.6"
equation "\"centeralShaftDiameter\" = 8"
equation "\"cardClearence\" = 0.5"
equation "\"bearingOd\" = 22"
equation "\"bearingWidth\" = 8"
equation "\"axleHeight\" = 95"
equation "\"nutTrapClearence\" = 2"
equation "\"nutTrapwidth\" = 5.5"
equation "\"nutTrapDepth\" = 2.5"
equation "\"magnetDiameter\" = 6"
equation "\"magnetLength\" = 3"
equation "\"magnetProtusion\" = 0.25"
equation "\"notchWidth\" = 10"
equation "\"spoolThickness\" = 5.588"
properties part number "back" material "Polycarbonate, Clear"
